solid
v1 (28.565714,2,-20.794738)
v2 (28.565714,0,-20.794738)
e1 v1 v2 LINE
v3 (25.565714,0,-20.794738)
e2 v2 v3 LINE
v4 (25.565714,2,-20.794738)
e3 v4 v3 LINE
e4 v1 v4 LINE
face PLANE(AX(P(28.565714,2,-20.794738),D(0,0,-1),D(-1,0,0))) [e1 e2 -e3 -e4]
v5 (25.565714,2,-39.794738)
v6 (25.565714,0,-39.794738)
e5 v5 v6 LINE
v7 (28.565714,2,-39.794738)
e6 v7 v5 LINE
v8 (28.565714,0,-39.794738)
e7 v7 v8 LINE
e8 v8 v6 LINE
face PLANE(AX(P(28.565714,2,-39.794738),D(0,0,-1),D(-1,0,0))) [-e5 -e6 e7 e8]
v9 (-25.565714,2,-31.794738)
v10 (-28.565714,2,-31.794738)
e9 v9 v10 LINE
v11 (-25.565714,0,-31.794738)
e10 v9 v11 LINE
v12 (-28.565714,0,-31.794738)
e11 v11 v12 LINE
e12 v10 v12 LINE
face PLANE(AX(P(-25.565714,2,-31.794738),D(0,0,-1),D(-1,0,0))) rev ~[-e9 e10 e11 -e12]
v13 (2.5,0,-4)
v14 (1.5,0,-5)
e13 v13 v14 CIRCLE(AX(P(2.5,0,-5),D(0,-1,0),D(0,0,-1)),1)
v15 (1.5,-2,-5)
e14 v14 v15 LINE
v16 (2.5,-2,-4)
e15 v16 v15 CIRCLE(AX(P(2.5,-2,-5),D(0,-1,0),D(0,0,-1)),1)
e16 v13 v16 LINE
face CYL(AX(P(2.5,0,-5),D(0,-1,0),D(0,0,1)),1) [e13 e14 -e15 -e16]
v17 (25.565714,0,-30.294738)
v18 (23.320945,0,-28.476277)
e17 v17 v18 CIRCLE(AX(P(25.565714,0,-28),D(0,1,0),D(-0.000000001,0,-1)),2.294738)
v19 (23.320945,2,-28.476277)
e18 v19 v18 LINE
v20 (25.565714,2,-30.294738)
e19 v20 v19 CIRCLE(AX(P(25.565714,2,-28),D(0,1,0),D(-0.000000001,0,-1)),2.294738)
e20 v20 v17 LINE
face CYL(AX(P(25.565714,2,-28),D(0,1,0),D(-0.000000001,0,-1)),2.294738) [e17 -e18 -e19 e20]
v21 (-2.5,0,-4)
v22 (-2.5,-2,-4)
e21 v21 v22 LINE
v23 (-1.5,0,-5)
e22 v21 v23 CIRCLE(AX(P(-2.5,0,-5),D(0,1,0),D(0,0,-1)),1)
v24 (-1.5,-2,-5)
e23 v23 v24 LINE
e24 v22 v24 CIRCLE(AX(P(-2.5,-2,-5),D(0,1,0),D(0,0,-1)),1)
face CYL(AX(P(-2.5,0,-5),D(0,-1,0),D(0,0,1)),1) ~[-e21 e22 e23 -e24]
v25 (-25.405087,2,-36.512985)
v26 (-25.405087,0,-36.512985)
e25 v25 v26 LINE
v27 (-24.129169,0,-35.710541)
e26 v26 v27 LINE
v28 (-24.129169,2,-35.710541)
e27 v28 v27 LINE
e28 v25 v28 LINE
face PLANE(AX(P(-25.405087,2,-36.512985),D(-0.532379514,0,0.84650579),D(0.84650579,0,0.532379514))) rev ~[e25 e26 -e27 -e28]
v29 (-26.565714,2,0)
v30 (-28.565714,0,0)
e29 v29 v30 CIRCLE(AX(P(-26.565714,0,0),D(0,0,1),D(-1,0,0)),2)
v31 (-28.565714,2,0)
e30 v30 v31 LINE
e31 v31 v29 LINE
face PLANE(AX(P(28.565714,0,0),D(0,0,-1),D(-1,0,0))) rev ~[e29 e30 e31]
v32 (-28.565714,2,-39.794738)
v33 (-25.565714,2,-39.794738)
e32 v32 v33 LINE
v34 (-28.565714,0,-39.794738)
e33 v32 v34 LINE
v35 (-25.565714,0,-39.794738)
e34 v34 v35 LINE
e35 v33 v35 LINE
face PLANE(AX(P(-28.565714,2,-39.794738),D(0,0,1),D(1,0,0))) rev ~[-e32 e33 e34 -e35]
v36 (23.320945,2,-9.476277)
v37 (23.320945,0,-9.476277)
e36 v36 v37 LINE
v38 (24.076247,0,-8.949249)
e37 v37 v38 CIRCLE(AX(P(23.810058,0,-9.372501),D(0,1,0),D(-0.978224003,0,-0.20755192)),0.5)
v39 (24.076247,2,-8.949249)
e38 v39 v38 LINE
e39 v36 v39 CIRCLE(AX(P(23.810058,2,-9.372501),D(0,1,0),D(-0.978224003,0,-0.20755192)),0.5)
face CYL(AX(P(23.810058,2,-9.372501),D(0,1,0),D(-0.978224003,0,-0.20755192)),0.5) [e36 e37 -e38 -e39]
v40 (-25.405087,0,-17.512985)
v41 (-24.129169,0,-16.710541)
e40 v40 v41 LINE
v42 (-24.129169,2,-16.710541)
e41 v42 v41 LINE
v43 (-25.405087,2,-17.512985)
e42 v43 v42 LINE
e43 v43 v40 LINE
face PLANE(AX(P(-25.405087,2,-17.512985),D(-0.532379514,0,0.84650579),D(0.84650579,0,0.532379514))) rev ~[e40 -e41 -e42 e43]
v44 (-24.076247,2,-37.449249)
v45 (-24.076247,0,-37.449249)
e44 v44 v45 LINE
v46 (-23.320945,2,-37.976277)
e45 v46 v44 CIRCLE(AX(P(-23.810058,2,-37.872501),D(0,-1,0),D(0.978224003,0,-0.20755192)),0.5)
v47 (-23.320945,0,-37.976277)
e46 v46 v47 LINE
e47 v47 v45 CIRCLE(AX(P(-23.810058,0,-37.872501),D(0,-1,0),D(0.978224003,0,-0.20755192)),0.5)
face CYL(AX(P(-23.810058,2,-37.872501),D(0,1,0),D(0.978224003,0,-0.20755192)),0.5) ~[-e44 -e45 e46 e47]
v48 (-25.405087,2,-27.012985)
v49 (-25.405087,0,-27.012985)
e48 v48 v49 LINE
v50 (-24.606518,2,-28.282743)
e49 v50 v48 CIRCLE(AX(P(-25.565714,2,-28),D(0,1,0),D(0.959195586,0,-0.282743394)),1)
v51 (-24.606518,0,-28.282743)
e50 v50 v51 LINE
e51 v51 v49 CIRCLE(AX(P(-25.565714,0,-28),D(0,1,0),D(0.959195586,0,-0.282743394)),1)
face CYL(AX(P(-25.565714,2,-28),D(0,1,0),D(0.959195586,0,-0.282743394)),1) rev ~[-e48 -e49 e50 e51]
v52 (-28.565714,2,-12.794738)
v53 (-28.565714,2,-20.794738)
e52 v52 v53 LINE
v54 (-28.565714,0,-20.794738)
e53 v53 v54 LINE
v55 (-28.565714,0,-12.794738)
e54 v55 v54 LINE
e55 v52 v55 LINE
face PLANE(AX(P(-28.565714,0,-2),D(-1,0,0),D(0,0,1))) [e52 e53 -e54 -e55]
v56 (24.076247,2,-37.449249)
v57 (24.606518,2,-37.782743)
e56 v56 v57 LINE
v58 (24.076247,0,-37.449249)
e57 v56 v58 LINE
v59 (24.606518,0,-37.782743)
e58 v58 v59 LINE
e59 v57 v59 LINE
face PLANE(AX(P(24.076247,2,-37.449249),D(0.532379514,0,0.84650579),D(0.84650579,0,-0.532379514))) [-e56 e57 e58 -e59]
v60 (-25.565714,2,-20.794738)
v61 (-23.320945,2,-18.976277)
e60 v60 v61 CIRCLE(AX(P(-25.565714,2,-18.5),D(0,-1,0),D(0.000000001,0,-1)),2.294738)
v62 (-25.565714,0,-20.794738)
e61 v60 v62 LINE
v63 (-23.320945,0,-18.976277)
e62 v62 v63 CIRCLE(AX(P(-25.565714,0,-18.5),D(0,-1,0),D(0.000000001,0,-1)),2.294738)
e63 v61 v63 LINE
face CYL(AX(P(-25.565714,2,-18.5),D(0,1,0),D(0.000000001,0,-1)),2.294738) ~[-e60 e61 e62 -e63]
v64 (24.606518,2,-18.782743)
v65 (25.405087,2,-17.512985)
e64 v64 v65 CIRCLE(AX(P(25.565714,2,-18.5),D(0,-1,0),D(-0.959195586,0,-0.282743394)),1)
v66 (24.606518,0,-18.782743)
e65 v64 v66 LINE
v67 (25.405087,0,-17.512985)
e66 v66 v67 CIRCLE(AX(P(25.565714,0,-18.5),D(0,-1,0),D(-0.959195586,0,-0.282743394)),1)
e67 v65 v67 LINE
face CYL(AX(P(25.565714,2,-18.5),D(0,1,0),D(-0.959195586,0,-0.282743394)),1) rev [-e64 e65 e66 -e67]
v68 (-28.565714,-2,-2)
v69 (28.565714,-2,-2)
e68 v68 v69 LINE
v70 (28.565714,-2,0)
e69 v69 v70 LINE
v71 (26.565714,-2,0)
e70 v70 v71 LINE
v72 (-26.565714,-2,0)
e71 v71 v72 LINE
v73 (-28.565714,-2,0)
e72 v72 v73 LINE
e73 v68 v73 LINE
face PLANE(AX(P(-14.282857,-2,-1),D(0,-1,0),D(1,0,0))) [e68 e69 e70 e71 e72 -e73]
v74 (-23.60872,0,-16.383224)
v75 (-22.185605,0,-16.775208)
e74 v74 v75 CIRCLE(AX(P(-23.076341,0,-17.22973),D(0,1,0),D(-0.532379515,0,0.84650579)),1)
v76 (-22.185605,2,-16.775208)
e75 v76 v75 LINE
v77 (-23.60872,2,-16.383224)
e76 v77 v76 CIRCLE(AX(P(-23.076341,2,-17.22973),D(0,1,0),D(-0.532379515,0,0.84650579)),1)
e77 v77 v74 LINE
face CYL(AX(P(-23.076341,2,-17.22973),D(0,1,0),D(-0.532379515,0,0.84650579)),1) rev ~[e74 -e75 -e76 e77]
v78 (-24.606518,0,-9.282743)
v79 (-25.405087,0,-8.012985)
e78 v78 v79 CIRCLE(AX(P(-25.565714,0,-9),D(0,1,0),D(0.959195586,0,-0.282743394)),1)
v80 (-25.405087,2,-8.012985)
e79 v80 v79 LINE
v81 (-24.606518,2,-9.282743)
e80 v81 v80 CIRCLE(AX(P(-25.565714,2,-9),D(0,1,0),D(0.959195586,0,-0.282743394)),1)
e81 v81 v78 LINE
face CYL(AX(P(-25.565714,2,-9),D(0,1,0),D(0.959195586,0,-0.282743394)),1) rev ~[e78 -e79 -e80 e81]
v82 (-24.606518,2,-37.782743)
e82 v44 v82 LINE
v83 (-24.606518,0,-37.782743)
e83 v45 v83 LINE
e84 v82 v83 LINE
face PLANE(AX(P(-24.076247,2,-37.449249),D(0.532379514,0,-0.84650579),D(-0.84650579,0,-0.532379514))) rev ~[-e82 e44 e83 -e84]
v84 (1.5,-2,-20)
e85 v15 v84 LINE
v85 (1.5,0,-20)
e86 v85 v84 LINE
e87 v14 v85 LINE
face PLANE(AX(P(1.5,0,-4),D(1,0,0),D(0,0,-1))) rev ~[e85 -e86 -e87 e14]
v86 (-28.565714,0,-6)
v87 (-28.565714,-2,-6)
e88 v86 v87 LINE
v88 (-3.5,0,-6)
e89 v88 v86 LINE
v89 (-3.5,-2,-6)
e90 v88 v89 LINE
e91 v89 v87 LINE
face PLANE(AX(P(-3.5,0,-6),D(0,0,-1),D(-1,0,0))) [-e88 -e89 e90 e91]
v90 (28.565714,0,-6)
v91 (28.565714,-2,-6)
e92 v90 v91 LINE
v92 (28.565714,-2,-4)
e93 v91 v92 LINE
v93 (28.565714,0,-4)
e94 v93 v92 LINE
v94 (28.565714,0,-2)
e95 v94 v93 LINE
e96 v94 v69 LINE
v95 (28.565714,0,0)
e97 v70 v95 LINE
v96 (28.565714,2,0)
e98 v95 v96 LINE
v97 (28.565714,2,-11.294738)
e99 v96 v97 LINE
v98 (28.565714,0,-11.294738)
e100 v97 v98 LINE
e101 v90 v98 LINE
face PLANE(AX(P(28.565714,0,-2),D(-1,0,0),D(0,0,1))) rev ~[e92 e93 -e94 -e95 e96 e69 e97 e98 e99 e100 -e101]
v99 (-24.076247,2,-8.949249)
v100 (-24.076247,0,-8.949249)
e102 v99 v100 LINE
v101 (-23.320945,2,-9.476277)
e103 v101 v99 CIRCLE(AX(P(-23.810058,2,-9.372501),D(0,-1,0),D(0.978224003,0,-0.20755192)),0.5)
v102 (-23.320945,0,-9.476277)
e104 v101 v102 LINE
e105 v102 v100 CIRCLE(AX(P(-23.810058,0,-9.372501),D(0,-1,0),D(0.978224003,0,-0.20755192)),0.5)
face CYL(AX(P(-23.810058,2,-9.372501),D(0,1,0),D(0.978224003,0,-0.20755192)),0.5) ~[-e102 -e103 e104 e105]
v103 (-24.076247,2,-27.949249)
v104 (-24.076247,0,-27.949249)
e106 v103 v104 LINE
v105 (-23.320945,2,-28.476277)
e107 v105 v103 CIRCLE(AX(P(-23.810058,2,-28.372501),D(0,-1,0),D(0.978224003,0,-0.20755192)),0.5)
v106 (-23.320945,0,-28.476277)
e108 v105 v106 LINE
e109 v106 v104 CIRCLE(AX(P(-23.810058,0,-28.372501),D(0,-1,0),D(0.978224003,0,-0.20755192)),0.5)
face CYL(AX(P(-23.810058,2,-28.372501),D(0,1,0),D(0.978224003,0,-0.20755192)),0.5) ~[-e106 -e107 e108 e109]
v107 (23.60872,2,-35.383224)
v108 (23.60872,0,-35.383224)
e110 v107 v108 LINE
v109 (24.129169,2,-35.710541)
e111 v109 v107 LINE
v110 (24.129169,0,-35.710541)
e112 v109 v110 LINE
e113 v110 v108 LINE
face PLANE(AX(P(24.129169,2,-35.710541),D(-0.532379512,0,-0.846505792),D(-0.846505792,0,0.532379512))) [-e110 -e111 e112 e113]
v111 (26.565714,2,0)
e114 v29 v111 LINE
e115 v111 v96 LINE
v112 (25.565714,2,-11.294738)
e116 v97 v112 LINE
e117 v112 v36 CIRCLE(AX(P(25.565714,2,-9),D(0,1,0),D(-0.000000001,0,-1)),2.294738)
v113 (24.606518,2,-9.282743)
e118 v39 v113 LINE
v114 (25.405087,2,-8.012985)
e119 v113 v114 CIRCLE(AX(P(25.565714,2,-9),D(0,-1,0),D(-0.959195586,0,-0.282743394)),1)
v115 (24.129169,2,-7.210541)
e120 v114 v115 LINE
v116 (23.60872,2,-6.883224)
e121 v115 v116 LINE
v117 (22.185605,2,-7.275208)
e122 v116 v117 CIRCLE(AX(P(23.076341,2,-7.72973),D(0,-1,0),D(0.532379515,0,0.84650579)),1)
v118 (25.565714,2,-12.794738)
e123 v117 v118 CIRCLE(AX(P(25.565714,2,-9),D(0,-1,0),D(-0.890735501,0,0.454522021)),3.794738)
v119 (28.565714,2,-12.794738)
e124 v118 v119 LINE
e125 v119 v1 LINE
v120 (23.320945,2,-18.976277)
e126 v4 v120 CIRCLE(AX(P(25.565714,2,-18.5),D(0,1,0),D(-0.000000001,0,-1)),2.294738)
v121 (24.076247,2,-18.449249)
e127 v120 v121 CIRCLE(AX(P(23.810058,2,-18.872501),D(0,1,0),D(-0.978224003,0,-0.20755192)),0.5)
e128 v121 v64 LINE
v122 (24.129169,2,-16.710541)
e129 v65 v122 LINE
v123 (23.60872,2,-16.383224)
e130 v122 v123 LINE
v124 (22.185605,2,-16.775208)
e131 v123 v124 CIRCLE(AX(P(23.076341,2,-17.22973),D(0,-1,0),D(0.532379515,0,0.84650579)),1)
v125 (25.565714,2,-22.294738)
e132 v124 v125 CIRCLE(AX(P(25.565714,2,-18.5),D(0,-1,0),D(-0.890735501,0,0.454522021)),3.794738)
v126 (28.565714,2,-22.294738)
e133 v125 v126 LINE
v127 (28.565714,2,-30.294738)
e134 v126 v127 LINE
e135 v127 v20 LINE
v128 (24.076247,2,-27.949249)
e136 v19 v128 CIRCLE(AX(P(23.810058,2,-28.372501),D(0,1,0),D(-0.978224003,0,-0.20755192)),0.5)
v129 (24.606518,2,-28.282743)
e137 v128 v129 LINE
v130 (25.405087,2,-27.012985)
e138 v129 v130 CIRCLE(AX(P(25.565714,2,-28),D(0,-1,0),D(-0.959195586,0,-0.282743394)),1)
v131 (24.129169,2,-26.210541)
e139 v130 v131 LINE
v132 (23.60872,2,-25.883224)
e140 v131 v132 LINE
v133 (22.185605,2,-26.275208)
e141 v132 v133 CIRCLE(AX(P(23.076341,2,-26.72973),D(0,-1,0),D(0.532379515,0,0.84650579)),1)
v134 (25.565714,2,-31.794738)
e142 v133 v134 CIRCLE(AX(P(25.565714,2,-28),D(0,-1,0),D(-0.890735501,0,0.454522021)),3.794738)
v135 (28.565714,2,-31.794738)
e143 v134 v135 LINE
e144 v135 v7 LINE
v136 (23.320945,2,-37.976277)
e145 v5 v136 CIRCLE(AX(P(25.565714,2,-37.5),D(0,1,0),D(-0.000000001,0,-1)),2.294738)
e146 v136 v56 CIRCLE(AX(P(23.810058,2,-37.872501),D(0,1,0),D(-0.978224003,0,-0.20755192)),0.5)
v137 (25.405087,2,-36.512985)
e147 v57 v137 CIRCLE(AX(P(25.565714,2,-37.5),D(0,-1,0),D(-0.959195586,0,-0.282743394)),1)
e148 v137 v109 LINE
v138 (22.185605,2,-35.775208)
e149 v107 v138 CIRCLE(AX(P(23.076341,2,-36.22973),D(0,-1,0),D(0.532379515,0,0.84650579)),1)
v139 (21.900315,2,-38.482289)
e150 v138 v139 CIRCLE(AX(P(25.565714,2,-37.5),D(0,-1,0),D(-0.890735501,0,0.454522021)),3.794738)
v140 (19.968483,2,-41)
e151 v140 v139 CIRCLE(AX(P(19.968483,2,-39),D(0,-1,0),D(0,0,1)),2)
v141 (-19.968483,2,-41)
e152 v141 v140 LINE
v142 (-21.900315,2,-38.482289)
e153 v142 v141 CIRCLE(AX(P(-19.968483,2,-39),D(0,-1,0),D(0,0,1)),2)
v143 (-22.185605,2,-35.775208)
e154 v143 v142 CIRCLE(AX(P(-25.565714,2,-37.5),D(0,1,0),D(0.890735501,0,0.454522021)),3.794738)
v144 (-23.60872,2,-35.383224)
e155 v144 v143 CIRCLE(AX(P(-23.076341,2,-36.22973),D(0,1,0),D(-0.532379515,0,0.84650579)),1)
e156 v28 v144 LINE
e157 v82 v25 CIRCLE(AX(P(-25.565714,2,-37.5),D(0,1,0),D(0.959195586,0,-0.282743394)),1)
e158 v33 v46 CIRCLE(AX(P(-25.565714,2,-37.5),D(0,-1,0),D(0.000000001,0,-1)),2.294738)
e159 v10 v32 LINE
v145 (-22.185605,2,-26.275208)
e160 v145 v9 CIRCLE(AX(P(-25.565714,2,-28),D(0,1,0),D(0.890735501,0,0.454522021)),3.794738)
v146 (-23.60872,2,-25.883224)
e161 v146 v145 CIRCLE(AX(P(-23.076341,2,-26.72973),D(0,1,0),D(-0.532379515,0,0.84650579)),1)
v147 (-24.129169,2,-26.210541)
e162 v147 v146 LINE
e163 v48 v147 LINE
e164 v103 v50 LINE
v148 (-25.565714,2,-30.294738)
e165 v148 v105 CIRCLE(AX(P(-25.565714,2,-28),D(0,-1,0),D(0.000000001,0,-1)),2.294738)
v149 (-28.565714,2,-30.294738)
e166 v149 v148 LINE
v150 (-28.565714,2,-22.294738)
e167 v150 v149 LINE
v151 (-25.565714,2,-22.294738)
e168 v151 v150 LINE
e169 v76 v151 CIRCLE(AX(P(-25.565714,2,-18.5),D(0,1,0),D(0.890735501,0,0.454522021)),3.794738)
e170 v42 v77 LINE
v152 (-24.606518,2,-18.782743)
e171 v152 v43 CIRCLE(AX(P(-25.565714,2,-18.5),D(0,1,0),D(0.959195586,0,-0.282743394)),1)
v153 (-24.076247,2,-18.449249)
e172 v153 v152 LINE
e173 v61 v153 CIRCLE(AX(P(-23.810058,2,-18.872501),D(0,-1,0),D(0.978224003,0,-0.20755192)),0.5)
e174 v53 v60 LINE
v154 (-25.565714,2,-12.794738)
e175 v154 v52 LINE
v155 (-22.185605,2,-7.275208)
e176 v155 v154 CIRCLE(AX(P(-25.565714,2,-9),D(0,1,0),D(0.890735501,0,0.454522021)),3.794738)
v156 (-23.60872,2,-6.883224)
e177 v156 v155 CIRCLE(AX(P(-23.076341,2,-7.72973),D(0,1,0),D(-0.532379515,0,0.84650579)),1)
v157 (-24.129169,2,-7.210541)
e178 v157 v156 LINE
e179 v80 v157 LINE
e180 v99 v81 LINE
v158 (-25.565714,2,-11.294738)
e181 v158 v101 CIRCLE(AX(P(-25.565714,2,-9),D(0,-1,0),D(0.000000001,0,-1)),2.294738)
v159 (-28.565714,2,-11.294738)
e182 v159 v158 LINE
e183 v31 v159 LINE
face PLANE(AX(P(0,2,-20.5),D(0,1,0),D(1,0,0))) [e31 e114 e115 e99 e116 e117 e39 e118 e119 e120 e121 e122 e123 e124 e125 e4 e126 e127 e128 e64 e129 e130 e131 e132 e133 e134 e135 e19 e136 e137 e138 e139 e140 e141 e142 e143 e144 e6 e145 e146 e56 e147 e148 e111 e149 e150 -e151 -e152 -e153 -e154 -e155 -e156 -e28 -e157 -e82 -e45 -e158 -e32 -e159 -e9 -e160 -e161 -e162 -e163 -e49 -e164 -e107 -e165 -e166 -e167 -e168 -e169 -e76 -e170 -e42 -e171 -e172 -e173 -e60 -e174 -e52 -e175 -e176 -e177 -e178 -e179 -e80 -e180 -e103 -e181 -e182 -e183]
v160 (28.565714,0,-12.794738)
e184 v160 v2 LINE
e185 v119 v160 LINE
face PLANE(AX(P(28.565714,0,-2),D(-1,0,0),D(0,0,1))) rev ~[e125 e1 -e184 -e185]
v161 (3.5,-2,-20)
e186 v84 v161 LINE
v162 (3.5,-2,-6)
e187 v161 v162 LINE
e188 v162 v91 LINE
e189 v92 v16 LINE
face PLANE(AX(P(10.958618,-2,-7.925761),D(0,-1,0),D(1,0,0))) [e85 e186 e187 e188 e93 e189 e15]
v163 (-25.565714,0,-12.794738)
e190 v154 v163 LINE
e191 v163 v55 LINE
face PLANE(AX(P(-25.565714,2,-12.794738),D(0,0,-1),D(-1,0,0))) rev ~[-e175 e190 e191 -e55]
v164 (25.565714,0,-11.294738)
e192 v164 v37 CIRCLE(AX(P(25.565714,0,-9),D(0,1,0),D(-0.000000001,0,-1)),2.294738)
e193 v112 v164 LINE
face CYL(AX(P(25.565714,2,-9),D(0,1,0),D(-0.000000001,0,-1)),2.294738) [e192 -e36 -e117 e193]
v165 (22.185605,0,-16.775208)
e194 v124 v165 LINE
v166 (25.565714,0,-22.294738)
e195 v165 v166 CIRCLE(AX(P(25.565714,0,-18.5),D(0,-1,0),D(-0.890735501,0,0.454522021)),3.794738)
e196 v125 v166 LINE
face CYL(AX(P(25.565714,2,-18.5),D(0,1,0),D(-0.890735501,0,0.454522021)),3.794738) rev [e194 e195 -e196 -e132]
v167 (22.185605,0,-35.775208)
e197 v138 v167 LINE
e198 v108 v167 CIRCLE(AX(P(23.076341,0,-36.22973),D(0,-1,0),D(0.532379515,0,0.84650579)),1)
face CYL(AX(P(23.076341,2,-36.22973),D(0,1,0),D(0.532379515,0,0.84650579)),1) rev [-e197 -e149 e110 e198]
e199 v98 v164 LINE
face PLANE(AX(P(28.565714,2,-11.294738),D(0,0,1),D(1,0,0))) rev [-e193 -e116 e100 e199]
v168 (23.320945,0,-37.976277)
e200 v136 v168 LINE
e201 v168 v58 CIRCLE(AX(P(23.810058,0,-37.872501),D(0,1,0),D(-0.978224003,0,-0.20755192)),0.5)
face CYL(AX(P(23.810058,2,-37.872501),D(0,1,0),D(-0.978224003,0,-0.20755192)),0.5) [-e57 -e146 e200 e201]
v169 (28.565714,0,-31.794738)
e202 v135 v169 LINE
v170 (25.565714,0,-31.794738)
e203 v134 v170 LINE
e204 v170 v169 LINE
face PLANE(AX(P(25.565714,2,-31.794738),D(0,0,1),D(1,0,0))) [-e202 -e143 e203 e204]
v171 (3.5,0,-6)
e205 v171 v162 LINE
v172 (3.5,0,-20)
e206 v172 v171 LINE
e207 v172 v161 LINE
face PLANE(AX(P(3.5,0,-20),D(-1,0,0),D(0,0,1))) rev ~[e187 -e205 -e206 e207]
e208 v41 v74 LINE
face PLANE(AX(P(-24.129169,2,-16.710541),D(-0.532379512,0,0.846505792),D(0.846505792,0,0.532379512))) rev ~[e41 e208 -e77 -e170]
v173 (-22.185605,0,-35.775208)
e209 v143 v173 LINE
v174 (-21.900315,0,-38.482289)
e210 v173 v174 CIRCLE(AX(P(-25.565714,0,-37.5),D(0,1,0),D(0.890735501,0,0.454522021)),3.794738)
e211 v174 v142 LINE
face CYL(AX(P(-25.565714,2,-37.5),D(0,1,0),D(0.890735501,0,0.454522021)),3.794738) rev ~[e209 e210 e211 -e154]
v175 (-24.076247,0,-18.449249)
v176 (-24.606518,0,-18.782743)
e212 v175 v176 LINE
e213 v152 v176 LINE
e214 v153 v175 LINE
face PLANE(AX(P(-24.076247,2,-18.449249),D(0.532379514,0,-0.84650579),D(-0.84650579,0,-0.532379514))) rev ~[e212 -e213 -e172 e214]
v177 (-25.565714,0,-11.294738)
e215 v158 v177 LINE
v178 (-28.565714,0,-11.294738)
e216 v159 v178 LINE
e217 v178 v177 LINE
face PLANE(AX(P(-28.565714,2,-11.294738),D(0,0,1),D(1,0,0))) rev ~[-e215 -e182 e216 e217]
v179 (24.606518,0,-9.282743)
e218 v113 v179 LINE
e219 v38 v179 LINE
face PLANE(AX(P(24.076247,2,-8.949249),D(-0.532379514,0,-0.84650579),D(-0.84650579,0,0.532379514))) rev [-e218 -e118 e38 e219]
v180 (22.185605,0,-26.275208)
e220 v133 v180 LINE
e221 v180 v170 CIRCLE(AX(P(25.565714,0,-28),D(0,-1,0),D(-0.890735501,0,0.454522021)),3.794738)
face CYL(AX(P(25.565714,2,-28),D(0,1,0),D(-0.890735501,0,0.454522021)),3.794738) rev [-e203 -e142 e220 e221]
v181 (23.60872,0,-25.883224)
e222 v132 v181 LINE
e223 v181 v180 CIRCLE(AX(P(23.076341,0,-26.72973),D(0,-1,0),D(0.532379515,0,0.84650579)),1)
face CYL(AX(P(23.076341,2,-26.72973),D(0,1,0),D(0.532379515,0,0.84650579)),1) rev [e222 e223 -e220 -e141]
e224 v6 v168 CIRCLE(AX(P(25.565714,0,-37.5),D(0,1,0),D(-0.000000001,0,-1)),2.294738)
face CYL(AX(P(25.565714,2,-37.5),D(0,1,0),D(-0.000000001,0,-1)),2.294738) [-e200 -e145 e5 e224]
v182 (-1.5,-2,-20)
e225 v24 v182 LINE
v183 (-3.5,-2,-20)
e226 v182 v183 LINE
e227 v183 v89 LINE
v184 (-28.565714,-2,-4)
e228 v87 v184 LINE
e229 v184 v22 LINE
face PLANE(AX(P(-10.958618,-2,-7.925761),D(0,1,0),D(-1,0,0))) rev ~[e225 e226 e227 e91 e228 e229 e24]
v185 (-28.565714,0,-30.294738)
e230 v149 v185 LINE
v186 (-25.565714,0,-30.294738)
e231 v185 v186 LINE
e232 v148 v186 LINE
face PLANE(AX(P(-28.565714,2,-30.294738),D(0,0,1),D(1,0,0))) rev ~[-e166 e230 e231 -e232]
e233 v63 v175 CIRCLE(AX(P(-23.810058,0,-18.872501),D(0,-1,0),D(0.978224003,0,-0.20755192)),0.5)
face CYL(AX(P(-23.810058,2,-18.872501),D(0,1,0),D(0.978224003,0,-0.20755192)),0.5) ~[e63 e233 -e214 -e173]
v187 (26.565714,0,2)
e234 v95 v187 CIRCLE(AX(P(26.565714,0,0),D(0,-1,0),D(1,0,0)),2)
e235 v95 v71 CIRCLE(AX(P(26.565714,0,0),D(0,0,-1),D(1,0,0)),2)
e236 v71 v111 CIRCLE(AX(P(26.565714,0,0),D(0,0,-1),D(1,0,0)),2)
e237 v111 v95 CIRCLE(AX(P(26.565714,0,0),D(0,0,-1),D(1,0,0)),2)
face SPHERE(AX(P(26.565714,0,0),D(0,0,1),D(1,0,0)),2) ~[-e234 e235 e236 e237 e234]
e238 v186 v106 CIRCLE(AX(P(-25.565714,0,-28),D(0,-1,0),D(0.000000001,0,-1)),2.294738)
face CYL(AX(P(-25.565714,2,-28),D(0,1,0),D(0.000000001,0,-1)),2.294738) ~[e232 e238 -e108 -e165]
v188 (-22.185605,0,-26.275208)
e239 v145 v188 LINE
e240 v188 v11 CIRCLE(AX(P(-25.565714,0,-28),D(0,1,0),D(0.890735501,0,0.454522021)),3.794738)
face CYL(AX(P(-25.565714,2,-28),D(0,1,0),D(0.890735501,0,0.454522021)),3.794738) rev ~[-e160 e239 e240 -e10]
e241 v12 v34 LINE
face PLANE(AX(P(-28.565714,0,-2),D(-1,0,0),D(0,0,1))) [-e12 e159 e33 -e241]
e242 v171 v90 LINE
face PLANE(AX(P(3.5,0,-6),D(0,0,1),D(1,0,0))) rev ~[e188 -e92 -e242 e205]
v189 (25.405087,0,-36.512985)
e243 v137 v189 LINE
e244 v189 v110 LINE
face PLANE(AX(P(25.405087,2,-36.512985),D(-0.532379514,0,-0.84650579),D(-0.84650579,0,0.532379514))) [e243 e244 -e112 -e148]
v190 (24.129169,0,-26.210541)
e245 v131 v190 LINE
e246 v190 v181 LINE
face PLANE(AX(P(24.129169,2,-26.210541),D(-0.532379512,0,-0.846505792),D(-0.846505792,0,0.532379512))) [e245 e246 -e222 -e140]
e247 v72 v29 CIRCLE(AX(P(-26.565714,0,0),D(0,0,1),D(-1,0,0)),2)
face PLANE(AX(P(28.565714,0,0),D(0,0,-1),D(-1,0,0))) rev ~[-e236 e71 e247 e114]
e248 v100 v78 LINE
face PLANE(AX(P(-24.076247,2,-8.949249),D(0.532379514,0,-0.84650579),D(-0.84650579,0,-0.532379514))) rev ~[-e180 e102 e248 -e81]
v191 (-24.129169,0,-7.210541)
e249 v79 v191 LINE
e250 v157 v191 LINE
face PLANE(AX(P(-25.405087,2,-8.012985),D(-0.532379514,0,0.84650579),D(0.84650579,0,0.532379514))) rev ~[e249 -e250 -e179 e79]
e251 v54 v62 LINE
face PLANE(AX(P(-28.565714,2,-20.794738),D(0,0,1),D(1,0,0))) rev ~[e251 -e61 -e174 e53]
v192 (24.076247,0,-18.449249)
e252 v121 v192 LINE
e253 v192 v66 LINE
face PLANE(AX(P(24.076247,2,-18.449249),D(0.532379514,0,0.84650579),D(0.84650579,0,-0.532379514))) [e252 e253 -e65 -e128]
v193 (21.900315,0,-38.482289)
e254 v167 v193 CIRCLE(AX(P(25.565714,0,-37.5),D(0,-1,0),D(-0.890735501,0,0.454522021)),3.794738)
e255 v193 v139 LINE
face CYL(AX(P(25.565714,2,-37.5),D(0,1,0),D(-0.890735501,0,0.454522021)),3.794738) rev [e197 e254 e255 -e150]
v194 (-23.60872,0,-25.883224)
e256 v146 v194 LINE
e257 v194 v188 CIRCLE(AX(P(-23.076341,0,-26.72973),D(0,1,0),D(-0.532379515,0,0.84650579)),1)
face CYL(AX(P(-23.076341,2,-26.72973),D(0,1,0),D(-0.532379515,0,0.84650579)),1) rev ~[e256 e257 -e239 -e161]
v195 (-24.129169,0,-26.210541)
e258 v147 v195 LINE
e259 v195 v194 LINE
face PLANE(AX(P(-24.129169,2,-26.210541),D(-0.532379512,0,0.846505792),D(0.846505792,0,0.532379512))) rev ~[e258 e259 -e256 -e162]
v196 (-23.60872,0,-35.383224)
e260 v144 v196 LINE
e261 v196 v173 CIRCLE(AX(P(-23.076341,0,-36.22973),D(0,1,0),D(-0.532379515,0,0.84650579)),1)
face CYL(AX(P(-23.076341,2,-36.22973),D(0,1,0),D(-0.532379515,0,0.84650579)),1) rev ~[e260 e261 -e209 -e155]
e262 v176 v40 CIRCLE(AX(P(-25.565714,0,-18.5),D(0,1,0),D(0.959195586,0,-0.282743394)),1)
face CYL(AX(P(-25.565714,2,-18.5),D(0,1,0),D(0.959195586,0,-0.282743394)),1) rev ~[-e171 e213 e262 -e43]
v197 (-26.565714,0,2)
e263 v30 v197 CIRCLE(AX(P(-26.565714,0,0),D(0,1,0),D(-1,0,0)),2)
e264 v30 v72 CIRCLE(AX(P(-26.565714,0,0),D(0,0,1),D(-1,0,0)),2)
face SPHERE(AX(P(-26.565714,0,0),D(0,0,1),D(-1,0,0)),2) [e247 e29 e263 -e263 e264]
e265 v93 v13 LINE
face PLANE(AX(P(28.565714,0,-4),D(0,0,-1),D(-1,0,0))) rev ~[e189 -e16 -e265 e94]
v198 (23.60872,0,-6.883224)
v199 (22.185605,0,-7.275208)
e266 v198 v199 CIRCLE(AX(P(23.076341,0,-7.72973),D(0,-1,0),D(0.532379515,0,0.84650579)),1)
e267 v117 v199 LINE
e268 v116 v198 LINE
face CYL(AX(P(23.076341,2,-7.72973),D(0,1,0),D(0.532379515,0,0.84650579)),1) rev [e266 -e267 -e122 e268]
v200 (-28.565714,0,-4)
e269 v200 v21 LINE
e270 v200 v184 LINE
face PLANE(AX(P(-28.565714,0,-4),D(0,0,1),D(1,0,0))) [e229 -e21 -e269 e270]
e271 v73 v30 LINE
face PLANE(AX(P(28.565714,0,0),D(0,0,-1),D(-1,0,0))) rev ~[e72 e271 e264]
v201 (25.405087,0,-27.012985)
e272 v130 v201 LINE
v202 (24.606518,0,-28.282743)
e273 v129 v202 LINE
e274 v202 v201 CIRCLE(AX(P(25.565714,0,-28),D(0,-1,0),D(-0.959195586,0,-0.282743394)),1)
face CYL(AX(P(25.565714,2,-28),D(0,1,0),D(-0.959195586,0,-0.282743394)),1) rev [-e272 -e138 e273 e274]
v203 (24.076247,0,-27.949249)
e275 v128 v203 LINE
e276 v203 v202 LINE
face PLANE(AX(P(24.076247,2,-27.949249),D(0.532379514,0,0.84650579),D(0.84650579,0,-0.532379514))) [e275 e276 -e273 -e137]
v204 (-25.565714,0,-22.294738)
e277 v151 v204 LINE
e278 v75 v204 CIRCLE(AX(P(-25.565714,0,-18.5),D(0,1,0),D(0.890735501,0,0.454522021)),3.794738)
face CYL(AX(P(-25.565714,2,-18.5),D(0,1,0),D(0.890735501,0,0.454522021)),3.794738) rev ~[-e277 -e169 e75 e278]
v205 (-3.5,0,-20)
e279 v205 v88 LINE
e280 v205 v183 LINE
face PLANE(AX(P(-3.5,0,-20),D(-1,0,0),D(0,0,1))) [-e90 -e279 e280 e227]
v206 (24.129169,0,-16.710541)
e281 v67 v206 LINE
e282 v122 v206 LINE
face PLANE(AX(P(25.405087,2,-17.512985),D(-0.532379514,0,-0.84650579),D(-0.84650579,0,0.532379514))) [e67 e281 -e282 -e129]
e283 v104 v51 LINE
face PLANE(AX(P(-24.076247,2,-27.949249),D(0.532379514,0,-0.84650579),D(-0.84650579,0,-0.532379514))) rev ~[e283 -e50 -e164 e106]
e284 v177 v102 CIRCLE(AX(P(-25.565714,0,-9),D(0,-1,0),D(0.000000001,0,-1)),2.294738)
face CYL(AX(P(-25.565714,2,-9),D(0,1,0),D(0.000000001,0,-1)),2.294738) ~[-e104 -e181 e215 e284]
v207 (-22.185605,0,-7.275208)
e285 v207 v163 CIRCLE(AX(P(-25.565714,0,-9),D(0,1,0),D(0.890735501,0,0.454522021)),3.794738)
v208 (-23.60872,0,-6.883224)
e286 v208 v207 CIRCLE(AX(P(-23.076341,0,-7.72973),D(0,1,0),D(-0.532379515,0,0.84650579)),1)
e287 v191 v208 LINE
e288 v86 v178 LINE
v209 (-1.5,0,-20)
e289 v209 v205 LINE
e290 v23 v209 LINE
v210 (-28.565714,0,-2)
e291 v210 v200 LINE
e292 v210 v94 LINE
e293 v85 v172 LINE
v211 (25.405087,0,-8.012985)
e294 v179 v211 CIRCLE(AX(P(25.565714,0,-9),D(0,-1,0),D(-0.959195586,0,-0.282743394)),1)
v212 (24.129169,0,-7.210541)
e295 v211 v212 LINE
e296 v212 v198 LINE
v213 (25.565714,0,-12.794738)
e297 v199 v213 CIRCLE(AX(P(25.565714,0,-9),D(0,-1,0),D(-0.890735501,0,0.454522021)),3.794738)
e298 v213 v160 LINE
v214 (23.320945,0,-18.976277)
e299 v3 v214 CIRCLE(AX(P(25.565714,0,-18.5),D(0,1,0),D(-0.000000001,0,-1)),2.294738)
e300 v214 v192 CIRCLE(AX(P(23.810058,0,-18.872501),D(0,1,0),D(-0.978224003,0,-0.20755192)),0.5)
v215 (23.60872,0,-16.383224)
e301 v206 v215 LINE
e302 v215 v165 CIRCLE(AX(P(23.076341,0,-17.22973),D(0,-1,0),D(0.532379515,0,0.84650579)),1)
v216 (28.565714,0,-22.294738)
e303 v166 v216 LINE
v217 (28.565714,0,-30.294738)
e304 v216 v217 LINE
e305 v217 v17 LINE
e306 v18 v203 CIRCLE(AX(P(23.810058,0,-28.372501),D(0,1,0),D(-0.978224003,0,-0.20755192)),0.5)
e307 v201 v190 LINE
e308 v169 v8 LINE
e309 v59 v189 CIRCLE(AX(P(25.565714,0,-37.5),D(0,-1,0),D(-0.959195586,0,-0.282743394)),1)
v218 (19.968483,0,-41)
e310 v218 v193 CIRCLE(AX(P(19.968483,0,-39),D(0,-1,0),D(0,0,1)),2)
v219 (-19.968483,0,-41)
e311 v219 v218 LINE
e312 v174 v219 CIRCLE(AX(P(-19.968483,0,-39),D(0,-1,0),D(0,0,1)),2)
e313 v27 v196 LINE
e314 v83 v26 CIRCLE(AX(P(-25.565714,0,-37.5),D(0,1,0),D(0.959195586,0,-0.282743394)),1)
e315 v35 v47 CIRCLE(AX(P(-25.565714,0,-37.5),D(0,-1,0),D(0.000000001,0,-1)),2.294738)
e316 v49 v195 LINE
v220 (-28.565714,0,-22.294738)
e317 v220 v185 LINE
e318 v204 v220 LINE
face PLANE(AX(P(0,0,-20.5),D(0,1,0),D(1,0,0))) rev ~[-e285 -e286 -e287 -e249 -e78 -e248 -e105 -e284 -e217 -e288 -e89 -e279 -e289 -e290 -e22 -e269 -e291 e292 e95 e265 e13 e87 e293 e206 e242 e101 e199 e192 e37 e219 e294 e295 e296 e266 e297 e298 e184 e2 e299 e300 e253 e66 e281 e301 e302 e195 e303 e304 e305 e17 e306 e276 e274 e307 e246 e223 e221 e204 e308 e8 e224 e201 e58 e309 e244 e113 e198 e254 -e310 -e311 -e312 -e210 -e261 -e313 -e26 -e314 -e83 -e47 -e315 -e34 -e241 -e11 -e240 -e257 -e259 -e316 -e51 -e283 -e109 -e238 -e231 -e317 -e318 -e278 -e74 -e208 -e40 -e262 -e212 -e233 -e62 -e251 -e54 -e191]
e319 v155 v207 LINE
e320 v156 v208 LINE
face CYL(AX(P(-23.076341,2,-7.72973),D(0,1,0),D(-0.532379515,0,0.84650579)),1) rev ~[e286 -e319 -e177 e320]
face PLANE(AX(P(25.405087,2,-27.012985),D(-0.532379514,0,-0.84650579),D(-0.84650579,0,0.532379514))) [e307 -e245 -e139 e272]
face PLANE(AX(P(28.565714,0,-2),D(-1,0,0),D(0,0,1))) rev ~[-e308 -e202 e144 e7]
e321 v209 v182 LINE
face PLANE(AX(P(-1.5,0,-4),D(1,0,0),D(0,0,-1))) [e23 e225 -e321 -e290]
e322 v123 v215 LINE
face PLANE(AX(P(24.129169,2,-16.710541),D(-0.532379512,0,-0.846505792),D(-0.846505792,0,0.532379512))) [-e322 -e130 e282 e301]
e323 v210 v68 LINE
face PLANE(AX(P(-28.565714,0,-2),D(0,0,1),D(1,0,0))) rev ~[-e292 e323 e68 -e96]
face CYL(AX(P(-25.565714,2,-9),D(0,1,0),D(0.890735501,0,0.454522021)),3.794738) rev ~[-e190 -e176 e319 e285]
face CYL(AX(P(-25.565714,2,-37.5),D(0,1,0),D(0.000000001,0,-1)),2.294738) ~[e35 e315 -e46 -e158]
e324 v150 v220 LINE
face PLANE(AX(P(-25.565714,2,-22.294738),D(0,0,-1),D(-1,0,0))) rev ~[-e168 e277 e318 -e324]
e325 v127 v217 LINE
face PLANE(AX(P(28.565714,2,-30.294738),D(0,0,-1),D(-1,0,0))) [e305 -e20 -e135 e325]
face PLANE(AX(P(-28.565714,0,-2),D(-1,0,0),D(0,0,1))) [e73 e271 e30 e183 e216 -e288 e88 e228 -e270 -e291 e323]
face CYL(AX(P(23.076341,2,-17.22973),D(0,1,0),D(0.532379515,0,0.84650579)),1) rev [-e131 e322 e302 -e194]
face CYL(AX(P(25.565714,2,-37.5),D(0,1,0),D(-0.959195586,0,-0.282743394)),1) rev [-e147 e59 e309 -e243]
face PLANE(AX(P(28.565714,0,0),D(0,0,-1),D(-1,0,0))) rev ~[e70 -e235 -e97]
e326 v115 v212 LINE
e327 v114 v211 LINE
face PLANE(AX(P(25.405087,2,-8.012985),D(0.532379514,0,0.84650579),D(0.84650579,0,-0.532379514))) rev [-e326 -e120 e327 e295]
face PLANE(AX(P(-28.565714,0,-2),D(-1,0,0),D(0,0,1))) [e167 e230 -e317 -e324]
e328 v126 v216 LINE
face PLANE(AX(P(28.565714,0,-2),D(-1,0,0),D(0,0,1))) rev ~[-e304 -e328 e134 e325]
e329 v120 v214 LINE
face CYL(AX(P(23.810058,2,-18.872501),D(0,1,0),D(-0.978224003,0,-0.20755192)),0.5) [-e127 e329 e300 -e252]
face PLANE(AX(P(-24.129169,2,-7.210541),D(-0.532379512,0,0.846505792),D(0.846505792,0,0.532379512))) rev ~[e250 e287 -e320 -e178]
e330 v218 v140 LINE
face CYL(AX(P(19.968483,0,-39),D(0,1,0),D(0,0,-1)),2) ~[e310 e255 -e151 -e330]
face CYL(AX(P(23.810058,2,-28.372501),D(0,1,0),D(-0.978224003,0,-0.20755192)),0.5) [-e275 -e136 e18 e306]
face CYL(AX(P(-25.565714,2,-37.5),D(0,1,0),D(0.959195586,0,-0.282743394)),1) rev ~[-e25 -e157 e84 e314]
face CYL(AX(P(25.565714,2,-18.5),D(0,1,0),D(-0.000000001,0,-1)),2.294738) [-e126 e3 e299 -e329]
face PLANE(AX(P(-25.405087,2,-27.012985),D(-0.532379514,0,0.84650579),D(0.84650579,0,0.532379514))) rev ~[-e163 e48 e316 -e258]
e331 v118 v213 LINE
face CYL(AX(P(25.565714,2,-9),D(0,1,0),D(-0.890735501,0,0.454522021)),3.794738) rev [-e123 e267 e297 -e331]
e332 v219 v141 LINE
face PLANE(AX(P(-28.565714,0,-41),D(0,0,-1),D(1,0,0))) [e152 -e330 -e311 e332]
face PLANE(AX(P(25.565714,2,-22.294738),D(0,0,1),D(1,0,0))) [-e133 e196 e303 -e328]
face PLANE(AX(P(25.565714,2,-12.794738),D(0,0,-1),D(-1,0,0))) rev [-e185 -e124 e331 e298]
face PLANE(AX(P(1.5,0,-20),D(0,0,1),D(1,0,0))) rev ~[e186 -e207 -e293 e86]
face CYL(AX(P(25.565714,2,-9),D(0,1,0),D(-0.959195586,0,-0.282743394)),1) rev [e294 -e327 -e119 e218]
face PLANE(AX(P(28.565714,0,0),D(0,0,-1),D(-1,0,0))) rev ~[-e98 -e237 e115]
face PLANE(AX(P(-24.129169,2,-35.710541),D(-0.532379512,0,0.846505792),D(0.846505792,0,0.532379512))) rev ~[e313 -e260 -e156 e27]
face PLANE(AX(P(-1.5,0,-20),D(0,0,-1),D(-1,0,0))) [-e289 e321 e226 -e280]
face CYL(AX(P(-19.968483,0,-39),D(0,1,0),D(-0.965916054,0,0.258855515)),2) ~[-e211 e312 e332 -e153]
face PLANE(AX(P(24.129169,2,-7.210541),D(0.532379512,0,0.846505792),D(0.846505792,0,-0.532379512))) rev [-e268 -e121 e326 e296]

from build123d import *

# Parameters (mm, degrees)
SKETCH1_W            = 57.131427428
SKETCH1_H            = 41
BOSS_EXTRUDE1_DEPTH  = 2
SKETCH2_W            = 28.565713714
SKETCH2_H            = 2
BOSS_EXTRUDE2_DEPTH  = 2
CUT_EXTRUDE4_DEPTH   = 2
LPATTERN1_COUNT      = 4
LPATTERN1_PITCH      = 9.5
MIRROR2_COPY_1_DEPTH = 2
MIRROR2_COPY_2_DEPTH = 2
MIRROR2_COPY_3_DEPTH = 2
FILLET1_R            = 1
FILLET2_R            = 2


with BuildPart() as part:
    # Sketch1 → Boss-Extrude1 (new body)
    with BuildSketch(Plane(origin=(0, 0, 0), x_dir=(1, 0, 0), z_dir=(0, 1, 0))):
        with Locations((0, 20.5)):
            Rectangle(SKETCH1_W, SKETCH1_H)
    extrude(amount=BOSS_EXTRUDE1_DEPTH)

    # Sketch2 → Boss-Extrude2 (add)
    with BuildSketch(Plane.XZ):
        with Locations((-14.282856857, -1)):
            Rectangle(SKETCH2_W, SKETCH2_H)
        with Locations((14.282856857, -1)):
            Rectangle(SKETCH2_W, SKETCH2_H)
        Polygon((1.5, -20), (3.5, -20), (3.5, -6), (28.565713714, -6), (28.565713714, -4), (1.5, -4), align=None)
        Polygon((-28.565713714, -6), (-28.565713714, -4), (-1.5, -4), (-1.5, -20), (-3.5, -20), (-3.5, -6), align=None)
    extrude(amount=BOSS_EXTRUDE2_DEPTH)

    # Sketch4 → Revolve1 (revolve)
    with BuildSketch(Plane.XZ):
        with BuildLine():
            Line((-26.565713714, 0), (-28.565713714, 0))
            ThreePointArc((-28.565713714, 0), (-27.979927277, 1.414213562), (-26.565713714, 2))
            Line((-26.565713714, 2), (-26.565713714, 0))
        make_face()
    revolve1 = revolve(axis=Axis((-26.565713714, 0, 0), (0, 0, 1)))

    # Mirror1: Revolve1 across plane
    add(revolve1.mirror(Plane(origin=(0, 0, 0), x_dir=(0, 0, 1), z_dir=(1, 0, 0))))

    # Sketch7 → Cut-Extrude4 (cut)
    with BuildSketch(Plane(origin=(0, 2, 0), x_dir=(1, 0, 0), z_dir=(0, 1, 0))):
        with BuildLine():
            Line((-24.076247257, 8.949248512), (-24.606518128, 9.282743394))
            ThreePointArc((-24.606518128, 9.282743394), (-26.412219505, 9.532379514), (-25.405087398, 8.012984708))
            Line((-25.405087398, 8.012984708), (-24.129168598, 7.210541254))
            Line((-24.129168598, 7.210541254), (-23.60872049, 6.883224049))
            ThreePointArc((-23.60872049, 6.883224049), (-22.810789527, 6.765633149), (-22.185605476, 7.275207818))
            ThreePointArc((-22.185605476, 7.275207818), (-22.329575973, 10.981780083), (-25.565713714, 12.794738433))
            Line((-25.565713714, 12.794738433), (-28.565713714, 12.794738433))
            Line((-28.565713714, 12.794738433), (-28.565713714, 11.294738433))
            Line((-28.565713714, 11.294738433), (-25.565713714, 11.294738433))
            ThreePointArc((-25.565713714, 11.294738433), (-24.121260099, 10.783081105), (-23.320945498, 9.476277368))
            ThreePointArc((-23.320945498, 9.476277368), (-23.52393963, 8.962456819), (-24.076247257, 8.949248512))
        make_face()
    cut_extrude4 = extrude(amount=-CUT_EXTRUDE4_DEPTH, mode=Mode.SUBTRACT)

    # LPattern1: Cut-Extrude4 ×4
    with Locations(*[(0, 0, -i * LPATTERN1_PITCH) for i in range(1, LPATTERN1_COUNT)]):
        add(cut_extrude4, mode=Mode.SUBTRACT)

    # Mirror2: Cut-Extrude4 across plane
    add(cut_extrude4.mirror(Plane(origin=(0, 0, 0), x_dir=(0, 0, 1), z_dir=(1, 0, 0))), mode=Mode.SUBTRACT)

    # Mirror2 copy 1 sketch → Mirror2 copy 1 (cut)
    with BuildSketch(Plane(origin=(0, 2, -9.5), x_dir=(-1, 0, 0), z_dir=(0, 1, 0))):
        with BuildLine():
            Line((-24.076247257, -8.949248512), (-24.606518128, -9.282743394))
            ThreePointArc((-24.606518128, -9.282743394), (-26.412219505, -9.532379514), (-25.405087398, -8.012984708))
            Line((-25.405087398, -8.012984708), (-24.129168598, -7.210541254))
            Line((-24.129168598, -7.210541254), (-23.60872049, -6.883224049))
            ThreePointArc((-23.60872049, -6.883224049), (-22.810789527, -6.765633149), (-22.185605476, -7.275207818))
            ThreePointArc((-22.185605476, -7.275207818), (-22.329575973, -10.981780083), (-25.565713714, -12.794738433))
            Line((-25.565713714, -12.794738433), (-28.565713714, -12.794738433))
            Line((-28.565713714, -12.794738433), (-28.565713714, -11.294738433))
            Line((-28.565713714, -11.294738433), (-25.565713714, -11.294738433))
            ThreePointArc((-25.565713714, -11.294738433), (-24.121260099, -10.783081105), (-23.320945498, -9.476277368))
            ThreePointArc((-23.320945498, -9.476277368), (-23.52393963, -8.962456819), (-24.076247257, -8.949248512))
        make_face()
    extrude(amount=-MIRROR2_COPY_1_DEPTH, mode=Mode.SUBTRACT)

    # Mirror2 copy 2 sketch → Mirror2 copy 2 (cut)
    with BuildSketch(Plane(origin=(0, 2, -19), x_dir=(-1, 0, 0), z_dir=(0, 1, 0))):
        with BuildLine():
            Line((-24.076247257, -8.949248512), (-24.606518128, -9.282743394))
            ThreePointArc((-24.606518128, -9.282743394), (-26.412219505, -9.532379514), (-25.405087398, -8.012984708))
            Line((-25.405087398, -8.012984708), (-24.129168598, -7.210541254))
            Line((-24.129168598, -7.210541254), (-23.60872049, -6.883224049))
            ThreePointArc((-23.60872049, -6.883224049), (-22.810789527, -6.765633149), (-22.185605476, -7.275207818))
            ThreePointArc((-22.185605476, -7.275207818), (-22.329575973, -10.981780083), (-25.565713714, -12.794738433))
            Line((-25.565713714, -12.794738433), (-28.565713714, -12.794738433))
            Line((-28.565713714, -12.794738433), (-28.565713714, -11.294738433))
            Line((-28.565713714, -11.294738433), (-25.565713714, -11.294738433))
            ThreePointArc((-25.565713714, -11.294738433), (-24.121260099, -10.783081105), (-23.320945498, -9.476277368))
            ThreePointArc((-23.320945498, -9.476277368), (-23.52393963, -8.962456819), (-24.076247257, -8.949248512))
        make_face()
    extrude(amount=-MIRROR2_COPY_2_DEPTH, mode=Mode.SUBTRACT)

    # Mirror2 copy 3 sketch → Mirror2 copy 3 (cut)
    with BuildSketch(Plane(origin=(0, 2, -28.5), x_dir=(-1, 0, 0), z_dir=(0, 1, 0))):
        with BuildLine():
            Line((-24.076247257, -8.949248512), (-24.606518128, -9.282743394))
            ThreePointArc((-24.606518128, -9.282743394), (-26.412219505, -9.532379514), (-25.405087398, -8.012984708))
            Line((-25.405087398, -8.012984708), (-24.129168598, -7.210541254))
            Line((-24.129168598, -7.210541254), (-23.60872049, -6.883224049))
            ThreePointArc((-23.60872049, -6.883224049), (-22.810789527, -6.765633149), (-22.185605476, -7.275207818))
            ThreePointArc((-22.185605476, -7.275207818), (-22.329575973, -10.981780083), (-25.565713714, -12.794738433))
            Line((-25.565713714, -12.794738433), (-28.565713714, -12.794738433))
            Line((-28.565713714, -12.794738433), (-28.565713714, -11.294738433))
            Line((-28.565713714, -11.294738433), (-25.565713714, -11.294738433))
            ThreePointArc((-25.565713714, -11.294738433), (-24.121260099, -10.783081105), (-23.320945498, -9.476277368))
            ThreePointArc((-23.320945498, -9.476277368), (-23.52393963, -8.962456819), (-24.076247257, -8.949248512))
        make_face()
    extrude(amount=-MIRROR2_COPY_3_DEPTH, mode=Mode.SUBTRACT)

    # Fillet1
    fillet1_edges = [part.edges().sort_by_distance(p)[0] for p in [
        (1.5, -1, -4),
        (-1.5, -1, -4),
    ]]
    fillet(fillet1_edges, radius=FILLET1_R)

    # Fillet2
    fillet2_edges = [part.edges().sort_by_distance(p)[0] for p in [
        (-24.099412322, 1, -41),
        (24.099412322, 1, -41),
    ]]
    fillet(fillet2_edges, radius=FILLET2_R)


solid = part.part
